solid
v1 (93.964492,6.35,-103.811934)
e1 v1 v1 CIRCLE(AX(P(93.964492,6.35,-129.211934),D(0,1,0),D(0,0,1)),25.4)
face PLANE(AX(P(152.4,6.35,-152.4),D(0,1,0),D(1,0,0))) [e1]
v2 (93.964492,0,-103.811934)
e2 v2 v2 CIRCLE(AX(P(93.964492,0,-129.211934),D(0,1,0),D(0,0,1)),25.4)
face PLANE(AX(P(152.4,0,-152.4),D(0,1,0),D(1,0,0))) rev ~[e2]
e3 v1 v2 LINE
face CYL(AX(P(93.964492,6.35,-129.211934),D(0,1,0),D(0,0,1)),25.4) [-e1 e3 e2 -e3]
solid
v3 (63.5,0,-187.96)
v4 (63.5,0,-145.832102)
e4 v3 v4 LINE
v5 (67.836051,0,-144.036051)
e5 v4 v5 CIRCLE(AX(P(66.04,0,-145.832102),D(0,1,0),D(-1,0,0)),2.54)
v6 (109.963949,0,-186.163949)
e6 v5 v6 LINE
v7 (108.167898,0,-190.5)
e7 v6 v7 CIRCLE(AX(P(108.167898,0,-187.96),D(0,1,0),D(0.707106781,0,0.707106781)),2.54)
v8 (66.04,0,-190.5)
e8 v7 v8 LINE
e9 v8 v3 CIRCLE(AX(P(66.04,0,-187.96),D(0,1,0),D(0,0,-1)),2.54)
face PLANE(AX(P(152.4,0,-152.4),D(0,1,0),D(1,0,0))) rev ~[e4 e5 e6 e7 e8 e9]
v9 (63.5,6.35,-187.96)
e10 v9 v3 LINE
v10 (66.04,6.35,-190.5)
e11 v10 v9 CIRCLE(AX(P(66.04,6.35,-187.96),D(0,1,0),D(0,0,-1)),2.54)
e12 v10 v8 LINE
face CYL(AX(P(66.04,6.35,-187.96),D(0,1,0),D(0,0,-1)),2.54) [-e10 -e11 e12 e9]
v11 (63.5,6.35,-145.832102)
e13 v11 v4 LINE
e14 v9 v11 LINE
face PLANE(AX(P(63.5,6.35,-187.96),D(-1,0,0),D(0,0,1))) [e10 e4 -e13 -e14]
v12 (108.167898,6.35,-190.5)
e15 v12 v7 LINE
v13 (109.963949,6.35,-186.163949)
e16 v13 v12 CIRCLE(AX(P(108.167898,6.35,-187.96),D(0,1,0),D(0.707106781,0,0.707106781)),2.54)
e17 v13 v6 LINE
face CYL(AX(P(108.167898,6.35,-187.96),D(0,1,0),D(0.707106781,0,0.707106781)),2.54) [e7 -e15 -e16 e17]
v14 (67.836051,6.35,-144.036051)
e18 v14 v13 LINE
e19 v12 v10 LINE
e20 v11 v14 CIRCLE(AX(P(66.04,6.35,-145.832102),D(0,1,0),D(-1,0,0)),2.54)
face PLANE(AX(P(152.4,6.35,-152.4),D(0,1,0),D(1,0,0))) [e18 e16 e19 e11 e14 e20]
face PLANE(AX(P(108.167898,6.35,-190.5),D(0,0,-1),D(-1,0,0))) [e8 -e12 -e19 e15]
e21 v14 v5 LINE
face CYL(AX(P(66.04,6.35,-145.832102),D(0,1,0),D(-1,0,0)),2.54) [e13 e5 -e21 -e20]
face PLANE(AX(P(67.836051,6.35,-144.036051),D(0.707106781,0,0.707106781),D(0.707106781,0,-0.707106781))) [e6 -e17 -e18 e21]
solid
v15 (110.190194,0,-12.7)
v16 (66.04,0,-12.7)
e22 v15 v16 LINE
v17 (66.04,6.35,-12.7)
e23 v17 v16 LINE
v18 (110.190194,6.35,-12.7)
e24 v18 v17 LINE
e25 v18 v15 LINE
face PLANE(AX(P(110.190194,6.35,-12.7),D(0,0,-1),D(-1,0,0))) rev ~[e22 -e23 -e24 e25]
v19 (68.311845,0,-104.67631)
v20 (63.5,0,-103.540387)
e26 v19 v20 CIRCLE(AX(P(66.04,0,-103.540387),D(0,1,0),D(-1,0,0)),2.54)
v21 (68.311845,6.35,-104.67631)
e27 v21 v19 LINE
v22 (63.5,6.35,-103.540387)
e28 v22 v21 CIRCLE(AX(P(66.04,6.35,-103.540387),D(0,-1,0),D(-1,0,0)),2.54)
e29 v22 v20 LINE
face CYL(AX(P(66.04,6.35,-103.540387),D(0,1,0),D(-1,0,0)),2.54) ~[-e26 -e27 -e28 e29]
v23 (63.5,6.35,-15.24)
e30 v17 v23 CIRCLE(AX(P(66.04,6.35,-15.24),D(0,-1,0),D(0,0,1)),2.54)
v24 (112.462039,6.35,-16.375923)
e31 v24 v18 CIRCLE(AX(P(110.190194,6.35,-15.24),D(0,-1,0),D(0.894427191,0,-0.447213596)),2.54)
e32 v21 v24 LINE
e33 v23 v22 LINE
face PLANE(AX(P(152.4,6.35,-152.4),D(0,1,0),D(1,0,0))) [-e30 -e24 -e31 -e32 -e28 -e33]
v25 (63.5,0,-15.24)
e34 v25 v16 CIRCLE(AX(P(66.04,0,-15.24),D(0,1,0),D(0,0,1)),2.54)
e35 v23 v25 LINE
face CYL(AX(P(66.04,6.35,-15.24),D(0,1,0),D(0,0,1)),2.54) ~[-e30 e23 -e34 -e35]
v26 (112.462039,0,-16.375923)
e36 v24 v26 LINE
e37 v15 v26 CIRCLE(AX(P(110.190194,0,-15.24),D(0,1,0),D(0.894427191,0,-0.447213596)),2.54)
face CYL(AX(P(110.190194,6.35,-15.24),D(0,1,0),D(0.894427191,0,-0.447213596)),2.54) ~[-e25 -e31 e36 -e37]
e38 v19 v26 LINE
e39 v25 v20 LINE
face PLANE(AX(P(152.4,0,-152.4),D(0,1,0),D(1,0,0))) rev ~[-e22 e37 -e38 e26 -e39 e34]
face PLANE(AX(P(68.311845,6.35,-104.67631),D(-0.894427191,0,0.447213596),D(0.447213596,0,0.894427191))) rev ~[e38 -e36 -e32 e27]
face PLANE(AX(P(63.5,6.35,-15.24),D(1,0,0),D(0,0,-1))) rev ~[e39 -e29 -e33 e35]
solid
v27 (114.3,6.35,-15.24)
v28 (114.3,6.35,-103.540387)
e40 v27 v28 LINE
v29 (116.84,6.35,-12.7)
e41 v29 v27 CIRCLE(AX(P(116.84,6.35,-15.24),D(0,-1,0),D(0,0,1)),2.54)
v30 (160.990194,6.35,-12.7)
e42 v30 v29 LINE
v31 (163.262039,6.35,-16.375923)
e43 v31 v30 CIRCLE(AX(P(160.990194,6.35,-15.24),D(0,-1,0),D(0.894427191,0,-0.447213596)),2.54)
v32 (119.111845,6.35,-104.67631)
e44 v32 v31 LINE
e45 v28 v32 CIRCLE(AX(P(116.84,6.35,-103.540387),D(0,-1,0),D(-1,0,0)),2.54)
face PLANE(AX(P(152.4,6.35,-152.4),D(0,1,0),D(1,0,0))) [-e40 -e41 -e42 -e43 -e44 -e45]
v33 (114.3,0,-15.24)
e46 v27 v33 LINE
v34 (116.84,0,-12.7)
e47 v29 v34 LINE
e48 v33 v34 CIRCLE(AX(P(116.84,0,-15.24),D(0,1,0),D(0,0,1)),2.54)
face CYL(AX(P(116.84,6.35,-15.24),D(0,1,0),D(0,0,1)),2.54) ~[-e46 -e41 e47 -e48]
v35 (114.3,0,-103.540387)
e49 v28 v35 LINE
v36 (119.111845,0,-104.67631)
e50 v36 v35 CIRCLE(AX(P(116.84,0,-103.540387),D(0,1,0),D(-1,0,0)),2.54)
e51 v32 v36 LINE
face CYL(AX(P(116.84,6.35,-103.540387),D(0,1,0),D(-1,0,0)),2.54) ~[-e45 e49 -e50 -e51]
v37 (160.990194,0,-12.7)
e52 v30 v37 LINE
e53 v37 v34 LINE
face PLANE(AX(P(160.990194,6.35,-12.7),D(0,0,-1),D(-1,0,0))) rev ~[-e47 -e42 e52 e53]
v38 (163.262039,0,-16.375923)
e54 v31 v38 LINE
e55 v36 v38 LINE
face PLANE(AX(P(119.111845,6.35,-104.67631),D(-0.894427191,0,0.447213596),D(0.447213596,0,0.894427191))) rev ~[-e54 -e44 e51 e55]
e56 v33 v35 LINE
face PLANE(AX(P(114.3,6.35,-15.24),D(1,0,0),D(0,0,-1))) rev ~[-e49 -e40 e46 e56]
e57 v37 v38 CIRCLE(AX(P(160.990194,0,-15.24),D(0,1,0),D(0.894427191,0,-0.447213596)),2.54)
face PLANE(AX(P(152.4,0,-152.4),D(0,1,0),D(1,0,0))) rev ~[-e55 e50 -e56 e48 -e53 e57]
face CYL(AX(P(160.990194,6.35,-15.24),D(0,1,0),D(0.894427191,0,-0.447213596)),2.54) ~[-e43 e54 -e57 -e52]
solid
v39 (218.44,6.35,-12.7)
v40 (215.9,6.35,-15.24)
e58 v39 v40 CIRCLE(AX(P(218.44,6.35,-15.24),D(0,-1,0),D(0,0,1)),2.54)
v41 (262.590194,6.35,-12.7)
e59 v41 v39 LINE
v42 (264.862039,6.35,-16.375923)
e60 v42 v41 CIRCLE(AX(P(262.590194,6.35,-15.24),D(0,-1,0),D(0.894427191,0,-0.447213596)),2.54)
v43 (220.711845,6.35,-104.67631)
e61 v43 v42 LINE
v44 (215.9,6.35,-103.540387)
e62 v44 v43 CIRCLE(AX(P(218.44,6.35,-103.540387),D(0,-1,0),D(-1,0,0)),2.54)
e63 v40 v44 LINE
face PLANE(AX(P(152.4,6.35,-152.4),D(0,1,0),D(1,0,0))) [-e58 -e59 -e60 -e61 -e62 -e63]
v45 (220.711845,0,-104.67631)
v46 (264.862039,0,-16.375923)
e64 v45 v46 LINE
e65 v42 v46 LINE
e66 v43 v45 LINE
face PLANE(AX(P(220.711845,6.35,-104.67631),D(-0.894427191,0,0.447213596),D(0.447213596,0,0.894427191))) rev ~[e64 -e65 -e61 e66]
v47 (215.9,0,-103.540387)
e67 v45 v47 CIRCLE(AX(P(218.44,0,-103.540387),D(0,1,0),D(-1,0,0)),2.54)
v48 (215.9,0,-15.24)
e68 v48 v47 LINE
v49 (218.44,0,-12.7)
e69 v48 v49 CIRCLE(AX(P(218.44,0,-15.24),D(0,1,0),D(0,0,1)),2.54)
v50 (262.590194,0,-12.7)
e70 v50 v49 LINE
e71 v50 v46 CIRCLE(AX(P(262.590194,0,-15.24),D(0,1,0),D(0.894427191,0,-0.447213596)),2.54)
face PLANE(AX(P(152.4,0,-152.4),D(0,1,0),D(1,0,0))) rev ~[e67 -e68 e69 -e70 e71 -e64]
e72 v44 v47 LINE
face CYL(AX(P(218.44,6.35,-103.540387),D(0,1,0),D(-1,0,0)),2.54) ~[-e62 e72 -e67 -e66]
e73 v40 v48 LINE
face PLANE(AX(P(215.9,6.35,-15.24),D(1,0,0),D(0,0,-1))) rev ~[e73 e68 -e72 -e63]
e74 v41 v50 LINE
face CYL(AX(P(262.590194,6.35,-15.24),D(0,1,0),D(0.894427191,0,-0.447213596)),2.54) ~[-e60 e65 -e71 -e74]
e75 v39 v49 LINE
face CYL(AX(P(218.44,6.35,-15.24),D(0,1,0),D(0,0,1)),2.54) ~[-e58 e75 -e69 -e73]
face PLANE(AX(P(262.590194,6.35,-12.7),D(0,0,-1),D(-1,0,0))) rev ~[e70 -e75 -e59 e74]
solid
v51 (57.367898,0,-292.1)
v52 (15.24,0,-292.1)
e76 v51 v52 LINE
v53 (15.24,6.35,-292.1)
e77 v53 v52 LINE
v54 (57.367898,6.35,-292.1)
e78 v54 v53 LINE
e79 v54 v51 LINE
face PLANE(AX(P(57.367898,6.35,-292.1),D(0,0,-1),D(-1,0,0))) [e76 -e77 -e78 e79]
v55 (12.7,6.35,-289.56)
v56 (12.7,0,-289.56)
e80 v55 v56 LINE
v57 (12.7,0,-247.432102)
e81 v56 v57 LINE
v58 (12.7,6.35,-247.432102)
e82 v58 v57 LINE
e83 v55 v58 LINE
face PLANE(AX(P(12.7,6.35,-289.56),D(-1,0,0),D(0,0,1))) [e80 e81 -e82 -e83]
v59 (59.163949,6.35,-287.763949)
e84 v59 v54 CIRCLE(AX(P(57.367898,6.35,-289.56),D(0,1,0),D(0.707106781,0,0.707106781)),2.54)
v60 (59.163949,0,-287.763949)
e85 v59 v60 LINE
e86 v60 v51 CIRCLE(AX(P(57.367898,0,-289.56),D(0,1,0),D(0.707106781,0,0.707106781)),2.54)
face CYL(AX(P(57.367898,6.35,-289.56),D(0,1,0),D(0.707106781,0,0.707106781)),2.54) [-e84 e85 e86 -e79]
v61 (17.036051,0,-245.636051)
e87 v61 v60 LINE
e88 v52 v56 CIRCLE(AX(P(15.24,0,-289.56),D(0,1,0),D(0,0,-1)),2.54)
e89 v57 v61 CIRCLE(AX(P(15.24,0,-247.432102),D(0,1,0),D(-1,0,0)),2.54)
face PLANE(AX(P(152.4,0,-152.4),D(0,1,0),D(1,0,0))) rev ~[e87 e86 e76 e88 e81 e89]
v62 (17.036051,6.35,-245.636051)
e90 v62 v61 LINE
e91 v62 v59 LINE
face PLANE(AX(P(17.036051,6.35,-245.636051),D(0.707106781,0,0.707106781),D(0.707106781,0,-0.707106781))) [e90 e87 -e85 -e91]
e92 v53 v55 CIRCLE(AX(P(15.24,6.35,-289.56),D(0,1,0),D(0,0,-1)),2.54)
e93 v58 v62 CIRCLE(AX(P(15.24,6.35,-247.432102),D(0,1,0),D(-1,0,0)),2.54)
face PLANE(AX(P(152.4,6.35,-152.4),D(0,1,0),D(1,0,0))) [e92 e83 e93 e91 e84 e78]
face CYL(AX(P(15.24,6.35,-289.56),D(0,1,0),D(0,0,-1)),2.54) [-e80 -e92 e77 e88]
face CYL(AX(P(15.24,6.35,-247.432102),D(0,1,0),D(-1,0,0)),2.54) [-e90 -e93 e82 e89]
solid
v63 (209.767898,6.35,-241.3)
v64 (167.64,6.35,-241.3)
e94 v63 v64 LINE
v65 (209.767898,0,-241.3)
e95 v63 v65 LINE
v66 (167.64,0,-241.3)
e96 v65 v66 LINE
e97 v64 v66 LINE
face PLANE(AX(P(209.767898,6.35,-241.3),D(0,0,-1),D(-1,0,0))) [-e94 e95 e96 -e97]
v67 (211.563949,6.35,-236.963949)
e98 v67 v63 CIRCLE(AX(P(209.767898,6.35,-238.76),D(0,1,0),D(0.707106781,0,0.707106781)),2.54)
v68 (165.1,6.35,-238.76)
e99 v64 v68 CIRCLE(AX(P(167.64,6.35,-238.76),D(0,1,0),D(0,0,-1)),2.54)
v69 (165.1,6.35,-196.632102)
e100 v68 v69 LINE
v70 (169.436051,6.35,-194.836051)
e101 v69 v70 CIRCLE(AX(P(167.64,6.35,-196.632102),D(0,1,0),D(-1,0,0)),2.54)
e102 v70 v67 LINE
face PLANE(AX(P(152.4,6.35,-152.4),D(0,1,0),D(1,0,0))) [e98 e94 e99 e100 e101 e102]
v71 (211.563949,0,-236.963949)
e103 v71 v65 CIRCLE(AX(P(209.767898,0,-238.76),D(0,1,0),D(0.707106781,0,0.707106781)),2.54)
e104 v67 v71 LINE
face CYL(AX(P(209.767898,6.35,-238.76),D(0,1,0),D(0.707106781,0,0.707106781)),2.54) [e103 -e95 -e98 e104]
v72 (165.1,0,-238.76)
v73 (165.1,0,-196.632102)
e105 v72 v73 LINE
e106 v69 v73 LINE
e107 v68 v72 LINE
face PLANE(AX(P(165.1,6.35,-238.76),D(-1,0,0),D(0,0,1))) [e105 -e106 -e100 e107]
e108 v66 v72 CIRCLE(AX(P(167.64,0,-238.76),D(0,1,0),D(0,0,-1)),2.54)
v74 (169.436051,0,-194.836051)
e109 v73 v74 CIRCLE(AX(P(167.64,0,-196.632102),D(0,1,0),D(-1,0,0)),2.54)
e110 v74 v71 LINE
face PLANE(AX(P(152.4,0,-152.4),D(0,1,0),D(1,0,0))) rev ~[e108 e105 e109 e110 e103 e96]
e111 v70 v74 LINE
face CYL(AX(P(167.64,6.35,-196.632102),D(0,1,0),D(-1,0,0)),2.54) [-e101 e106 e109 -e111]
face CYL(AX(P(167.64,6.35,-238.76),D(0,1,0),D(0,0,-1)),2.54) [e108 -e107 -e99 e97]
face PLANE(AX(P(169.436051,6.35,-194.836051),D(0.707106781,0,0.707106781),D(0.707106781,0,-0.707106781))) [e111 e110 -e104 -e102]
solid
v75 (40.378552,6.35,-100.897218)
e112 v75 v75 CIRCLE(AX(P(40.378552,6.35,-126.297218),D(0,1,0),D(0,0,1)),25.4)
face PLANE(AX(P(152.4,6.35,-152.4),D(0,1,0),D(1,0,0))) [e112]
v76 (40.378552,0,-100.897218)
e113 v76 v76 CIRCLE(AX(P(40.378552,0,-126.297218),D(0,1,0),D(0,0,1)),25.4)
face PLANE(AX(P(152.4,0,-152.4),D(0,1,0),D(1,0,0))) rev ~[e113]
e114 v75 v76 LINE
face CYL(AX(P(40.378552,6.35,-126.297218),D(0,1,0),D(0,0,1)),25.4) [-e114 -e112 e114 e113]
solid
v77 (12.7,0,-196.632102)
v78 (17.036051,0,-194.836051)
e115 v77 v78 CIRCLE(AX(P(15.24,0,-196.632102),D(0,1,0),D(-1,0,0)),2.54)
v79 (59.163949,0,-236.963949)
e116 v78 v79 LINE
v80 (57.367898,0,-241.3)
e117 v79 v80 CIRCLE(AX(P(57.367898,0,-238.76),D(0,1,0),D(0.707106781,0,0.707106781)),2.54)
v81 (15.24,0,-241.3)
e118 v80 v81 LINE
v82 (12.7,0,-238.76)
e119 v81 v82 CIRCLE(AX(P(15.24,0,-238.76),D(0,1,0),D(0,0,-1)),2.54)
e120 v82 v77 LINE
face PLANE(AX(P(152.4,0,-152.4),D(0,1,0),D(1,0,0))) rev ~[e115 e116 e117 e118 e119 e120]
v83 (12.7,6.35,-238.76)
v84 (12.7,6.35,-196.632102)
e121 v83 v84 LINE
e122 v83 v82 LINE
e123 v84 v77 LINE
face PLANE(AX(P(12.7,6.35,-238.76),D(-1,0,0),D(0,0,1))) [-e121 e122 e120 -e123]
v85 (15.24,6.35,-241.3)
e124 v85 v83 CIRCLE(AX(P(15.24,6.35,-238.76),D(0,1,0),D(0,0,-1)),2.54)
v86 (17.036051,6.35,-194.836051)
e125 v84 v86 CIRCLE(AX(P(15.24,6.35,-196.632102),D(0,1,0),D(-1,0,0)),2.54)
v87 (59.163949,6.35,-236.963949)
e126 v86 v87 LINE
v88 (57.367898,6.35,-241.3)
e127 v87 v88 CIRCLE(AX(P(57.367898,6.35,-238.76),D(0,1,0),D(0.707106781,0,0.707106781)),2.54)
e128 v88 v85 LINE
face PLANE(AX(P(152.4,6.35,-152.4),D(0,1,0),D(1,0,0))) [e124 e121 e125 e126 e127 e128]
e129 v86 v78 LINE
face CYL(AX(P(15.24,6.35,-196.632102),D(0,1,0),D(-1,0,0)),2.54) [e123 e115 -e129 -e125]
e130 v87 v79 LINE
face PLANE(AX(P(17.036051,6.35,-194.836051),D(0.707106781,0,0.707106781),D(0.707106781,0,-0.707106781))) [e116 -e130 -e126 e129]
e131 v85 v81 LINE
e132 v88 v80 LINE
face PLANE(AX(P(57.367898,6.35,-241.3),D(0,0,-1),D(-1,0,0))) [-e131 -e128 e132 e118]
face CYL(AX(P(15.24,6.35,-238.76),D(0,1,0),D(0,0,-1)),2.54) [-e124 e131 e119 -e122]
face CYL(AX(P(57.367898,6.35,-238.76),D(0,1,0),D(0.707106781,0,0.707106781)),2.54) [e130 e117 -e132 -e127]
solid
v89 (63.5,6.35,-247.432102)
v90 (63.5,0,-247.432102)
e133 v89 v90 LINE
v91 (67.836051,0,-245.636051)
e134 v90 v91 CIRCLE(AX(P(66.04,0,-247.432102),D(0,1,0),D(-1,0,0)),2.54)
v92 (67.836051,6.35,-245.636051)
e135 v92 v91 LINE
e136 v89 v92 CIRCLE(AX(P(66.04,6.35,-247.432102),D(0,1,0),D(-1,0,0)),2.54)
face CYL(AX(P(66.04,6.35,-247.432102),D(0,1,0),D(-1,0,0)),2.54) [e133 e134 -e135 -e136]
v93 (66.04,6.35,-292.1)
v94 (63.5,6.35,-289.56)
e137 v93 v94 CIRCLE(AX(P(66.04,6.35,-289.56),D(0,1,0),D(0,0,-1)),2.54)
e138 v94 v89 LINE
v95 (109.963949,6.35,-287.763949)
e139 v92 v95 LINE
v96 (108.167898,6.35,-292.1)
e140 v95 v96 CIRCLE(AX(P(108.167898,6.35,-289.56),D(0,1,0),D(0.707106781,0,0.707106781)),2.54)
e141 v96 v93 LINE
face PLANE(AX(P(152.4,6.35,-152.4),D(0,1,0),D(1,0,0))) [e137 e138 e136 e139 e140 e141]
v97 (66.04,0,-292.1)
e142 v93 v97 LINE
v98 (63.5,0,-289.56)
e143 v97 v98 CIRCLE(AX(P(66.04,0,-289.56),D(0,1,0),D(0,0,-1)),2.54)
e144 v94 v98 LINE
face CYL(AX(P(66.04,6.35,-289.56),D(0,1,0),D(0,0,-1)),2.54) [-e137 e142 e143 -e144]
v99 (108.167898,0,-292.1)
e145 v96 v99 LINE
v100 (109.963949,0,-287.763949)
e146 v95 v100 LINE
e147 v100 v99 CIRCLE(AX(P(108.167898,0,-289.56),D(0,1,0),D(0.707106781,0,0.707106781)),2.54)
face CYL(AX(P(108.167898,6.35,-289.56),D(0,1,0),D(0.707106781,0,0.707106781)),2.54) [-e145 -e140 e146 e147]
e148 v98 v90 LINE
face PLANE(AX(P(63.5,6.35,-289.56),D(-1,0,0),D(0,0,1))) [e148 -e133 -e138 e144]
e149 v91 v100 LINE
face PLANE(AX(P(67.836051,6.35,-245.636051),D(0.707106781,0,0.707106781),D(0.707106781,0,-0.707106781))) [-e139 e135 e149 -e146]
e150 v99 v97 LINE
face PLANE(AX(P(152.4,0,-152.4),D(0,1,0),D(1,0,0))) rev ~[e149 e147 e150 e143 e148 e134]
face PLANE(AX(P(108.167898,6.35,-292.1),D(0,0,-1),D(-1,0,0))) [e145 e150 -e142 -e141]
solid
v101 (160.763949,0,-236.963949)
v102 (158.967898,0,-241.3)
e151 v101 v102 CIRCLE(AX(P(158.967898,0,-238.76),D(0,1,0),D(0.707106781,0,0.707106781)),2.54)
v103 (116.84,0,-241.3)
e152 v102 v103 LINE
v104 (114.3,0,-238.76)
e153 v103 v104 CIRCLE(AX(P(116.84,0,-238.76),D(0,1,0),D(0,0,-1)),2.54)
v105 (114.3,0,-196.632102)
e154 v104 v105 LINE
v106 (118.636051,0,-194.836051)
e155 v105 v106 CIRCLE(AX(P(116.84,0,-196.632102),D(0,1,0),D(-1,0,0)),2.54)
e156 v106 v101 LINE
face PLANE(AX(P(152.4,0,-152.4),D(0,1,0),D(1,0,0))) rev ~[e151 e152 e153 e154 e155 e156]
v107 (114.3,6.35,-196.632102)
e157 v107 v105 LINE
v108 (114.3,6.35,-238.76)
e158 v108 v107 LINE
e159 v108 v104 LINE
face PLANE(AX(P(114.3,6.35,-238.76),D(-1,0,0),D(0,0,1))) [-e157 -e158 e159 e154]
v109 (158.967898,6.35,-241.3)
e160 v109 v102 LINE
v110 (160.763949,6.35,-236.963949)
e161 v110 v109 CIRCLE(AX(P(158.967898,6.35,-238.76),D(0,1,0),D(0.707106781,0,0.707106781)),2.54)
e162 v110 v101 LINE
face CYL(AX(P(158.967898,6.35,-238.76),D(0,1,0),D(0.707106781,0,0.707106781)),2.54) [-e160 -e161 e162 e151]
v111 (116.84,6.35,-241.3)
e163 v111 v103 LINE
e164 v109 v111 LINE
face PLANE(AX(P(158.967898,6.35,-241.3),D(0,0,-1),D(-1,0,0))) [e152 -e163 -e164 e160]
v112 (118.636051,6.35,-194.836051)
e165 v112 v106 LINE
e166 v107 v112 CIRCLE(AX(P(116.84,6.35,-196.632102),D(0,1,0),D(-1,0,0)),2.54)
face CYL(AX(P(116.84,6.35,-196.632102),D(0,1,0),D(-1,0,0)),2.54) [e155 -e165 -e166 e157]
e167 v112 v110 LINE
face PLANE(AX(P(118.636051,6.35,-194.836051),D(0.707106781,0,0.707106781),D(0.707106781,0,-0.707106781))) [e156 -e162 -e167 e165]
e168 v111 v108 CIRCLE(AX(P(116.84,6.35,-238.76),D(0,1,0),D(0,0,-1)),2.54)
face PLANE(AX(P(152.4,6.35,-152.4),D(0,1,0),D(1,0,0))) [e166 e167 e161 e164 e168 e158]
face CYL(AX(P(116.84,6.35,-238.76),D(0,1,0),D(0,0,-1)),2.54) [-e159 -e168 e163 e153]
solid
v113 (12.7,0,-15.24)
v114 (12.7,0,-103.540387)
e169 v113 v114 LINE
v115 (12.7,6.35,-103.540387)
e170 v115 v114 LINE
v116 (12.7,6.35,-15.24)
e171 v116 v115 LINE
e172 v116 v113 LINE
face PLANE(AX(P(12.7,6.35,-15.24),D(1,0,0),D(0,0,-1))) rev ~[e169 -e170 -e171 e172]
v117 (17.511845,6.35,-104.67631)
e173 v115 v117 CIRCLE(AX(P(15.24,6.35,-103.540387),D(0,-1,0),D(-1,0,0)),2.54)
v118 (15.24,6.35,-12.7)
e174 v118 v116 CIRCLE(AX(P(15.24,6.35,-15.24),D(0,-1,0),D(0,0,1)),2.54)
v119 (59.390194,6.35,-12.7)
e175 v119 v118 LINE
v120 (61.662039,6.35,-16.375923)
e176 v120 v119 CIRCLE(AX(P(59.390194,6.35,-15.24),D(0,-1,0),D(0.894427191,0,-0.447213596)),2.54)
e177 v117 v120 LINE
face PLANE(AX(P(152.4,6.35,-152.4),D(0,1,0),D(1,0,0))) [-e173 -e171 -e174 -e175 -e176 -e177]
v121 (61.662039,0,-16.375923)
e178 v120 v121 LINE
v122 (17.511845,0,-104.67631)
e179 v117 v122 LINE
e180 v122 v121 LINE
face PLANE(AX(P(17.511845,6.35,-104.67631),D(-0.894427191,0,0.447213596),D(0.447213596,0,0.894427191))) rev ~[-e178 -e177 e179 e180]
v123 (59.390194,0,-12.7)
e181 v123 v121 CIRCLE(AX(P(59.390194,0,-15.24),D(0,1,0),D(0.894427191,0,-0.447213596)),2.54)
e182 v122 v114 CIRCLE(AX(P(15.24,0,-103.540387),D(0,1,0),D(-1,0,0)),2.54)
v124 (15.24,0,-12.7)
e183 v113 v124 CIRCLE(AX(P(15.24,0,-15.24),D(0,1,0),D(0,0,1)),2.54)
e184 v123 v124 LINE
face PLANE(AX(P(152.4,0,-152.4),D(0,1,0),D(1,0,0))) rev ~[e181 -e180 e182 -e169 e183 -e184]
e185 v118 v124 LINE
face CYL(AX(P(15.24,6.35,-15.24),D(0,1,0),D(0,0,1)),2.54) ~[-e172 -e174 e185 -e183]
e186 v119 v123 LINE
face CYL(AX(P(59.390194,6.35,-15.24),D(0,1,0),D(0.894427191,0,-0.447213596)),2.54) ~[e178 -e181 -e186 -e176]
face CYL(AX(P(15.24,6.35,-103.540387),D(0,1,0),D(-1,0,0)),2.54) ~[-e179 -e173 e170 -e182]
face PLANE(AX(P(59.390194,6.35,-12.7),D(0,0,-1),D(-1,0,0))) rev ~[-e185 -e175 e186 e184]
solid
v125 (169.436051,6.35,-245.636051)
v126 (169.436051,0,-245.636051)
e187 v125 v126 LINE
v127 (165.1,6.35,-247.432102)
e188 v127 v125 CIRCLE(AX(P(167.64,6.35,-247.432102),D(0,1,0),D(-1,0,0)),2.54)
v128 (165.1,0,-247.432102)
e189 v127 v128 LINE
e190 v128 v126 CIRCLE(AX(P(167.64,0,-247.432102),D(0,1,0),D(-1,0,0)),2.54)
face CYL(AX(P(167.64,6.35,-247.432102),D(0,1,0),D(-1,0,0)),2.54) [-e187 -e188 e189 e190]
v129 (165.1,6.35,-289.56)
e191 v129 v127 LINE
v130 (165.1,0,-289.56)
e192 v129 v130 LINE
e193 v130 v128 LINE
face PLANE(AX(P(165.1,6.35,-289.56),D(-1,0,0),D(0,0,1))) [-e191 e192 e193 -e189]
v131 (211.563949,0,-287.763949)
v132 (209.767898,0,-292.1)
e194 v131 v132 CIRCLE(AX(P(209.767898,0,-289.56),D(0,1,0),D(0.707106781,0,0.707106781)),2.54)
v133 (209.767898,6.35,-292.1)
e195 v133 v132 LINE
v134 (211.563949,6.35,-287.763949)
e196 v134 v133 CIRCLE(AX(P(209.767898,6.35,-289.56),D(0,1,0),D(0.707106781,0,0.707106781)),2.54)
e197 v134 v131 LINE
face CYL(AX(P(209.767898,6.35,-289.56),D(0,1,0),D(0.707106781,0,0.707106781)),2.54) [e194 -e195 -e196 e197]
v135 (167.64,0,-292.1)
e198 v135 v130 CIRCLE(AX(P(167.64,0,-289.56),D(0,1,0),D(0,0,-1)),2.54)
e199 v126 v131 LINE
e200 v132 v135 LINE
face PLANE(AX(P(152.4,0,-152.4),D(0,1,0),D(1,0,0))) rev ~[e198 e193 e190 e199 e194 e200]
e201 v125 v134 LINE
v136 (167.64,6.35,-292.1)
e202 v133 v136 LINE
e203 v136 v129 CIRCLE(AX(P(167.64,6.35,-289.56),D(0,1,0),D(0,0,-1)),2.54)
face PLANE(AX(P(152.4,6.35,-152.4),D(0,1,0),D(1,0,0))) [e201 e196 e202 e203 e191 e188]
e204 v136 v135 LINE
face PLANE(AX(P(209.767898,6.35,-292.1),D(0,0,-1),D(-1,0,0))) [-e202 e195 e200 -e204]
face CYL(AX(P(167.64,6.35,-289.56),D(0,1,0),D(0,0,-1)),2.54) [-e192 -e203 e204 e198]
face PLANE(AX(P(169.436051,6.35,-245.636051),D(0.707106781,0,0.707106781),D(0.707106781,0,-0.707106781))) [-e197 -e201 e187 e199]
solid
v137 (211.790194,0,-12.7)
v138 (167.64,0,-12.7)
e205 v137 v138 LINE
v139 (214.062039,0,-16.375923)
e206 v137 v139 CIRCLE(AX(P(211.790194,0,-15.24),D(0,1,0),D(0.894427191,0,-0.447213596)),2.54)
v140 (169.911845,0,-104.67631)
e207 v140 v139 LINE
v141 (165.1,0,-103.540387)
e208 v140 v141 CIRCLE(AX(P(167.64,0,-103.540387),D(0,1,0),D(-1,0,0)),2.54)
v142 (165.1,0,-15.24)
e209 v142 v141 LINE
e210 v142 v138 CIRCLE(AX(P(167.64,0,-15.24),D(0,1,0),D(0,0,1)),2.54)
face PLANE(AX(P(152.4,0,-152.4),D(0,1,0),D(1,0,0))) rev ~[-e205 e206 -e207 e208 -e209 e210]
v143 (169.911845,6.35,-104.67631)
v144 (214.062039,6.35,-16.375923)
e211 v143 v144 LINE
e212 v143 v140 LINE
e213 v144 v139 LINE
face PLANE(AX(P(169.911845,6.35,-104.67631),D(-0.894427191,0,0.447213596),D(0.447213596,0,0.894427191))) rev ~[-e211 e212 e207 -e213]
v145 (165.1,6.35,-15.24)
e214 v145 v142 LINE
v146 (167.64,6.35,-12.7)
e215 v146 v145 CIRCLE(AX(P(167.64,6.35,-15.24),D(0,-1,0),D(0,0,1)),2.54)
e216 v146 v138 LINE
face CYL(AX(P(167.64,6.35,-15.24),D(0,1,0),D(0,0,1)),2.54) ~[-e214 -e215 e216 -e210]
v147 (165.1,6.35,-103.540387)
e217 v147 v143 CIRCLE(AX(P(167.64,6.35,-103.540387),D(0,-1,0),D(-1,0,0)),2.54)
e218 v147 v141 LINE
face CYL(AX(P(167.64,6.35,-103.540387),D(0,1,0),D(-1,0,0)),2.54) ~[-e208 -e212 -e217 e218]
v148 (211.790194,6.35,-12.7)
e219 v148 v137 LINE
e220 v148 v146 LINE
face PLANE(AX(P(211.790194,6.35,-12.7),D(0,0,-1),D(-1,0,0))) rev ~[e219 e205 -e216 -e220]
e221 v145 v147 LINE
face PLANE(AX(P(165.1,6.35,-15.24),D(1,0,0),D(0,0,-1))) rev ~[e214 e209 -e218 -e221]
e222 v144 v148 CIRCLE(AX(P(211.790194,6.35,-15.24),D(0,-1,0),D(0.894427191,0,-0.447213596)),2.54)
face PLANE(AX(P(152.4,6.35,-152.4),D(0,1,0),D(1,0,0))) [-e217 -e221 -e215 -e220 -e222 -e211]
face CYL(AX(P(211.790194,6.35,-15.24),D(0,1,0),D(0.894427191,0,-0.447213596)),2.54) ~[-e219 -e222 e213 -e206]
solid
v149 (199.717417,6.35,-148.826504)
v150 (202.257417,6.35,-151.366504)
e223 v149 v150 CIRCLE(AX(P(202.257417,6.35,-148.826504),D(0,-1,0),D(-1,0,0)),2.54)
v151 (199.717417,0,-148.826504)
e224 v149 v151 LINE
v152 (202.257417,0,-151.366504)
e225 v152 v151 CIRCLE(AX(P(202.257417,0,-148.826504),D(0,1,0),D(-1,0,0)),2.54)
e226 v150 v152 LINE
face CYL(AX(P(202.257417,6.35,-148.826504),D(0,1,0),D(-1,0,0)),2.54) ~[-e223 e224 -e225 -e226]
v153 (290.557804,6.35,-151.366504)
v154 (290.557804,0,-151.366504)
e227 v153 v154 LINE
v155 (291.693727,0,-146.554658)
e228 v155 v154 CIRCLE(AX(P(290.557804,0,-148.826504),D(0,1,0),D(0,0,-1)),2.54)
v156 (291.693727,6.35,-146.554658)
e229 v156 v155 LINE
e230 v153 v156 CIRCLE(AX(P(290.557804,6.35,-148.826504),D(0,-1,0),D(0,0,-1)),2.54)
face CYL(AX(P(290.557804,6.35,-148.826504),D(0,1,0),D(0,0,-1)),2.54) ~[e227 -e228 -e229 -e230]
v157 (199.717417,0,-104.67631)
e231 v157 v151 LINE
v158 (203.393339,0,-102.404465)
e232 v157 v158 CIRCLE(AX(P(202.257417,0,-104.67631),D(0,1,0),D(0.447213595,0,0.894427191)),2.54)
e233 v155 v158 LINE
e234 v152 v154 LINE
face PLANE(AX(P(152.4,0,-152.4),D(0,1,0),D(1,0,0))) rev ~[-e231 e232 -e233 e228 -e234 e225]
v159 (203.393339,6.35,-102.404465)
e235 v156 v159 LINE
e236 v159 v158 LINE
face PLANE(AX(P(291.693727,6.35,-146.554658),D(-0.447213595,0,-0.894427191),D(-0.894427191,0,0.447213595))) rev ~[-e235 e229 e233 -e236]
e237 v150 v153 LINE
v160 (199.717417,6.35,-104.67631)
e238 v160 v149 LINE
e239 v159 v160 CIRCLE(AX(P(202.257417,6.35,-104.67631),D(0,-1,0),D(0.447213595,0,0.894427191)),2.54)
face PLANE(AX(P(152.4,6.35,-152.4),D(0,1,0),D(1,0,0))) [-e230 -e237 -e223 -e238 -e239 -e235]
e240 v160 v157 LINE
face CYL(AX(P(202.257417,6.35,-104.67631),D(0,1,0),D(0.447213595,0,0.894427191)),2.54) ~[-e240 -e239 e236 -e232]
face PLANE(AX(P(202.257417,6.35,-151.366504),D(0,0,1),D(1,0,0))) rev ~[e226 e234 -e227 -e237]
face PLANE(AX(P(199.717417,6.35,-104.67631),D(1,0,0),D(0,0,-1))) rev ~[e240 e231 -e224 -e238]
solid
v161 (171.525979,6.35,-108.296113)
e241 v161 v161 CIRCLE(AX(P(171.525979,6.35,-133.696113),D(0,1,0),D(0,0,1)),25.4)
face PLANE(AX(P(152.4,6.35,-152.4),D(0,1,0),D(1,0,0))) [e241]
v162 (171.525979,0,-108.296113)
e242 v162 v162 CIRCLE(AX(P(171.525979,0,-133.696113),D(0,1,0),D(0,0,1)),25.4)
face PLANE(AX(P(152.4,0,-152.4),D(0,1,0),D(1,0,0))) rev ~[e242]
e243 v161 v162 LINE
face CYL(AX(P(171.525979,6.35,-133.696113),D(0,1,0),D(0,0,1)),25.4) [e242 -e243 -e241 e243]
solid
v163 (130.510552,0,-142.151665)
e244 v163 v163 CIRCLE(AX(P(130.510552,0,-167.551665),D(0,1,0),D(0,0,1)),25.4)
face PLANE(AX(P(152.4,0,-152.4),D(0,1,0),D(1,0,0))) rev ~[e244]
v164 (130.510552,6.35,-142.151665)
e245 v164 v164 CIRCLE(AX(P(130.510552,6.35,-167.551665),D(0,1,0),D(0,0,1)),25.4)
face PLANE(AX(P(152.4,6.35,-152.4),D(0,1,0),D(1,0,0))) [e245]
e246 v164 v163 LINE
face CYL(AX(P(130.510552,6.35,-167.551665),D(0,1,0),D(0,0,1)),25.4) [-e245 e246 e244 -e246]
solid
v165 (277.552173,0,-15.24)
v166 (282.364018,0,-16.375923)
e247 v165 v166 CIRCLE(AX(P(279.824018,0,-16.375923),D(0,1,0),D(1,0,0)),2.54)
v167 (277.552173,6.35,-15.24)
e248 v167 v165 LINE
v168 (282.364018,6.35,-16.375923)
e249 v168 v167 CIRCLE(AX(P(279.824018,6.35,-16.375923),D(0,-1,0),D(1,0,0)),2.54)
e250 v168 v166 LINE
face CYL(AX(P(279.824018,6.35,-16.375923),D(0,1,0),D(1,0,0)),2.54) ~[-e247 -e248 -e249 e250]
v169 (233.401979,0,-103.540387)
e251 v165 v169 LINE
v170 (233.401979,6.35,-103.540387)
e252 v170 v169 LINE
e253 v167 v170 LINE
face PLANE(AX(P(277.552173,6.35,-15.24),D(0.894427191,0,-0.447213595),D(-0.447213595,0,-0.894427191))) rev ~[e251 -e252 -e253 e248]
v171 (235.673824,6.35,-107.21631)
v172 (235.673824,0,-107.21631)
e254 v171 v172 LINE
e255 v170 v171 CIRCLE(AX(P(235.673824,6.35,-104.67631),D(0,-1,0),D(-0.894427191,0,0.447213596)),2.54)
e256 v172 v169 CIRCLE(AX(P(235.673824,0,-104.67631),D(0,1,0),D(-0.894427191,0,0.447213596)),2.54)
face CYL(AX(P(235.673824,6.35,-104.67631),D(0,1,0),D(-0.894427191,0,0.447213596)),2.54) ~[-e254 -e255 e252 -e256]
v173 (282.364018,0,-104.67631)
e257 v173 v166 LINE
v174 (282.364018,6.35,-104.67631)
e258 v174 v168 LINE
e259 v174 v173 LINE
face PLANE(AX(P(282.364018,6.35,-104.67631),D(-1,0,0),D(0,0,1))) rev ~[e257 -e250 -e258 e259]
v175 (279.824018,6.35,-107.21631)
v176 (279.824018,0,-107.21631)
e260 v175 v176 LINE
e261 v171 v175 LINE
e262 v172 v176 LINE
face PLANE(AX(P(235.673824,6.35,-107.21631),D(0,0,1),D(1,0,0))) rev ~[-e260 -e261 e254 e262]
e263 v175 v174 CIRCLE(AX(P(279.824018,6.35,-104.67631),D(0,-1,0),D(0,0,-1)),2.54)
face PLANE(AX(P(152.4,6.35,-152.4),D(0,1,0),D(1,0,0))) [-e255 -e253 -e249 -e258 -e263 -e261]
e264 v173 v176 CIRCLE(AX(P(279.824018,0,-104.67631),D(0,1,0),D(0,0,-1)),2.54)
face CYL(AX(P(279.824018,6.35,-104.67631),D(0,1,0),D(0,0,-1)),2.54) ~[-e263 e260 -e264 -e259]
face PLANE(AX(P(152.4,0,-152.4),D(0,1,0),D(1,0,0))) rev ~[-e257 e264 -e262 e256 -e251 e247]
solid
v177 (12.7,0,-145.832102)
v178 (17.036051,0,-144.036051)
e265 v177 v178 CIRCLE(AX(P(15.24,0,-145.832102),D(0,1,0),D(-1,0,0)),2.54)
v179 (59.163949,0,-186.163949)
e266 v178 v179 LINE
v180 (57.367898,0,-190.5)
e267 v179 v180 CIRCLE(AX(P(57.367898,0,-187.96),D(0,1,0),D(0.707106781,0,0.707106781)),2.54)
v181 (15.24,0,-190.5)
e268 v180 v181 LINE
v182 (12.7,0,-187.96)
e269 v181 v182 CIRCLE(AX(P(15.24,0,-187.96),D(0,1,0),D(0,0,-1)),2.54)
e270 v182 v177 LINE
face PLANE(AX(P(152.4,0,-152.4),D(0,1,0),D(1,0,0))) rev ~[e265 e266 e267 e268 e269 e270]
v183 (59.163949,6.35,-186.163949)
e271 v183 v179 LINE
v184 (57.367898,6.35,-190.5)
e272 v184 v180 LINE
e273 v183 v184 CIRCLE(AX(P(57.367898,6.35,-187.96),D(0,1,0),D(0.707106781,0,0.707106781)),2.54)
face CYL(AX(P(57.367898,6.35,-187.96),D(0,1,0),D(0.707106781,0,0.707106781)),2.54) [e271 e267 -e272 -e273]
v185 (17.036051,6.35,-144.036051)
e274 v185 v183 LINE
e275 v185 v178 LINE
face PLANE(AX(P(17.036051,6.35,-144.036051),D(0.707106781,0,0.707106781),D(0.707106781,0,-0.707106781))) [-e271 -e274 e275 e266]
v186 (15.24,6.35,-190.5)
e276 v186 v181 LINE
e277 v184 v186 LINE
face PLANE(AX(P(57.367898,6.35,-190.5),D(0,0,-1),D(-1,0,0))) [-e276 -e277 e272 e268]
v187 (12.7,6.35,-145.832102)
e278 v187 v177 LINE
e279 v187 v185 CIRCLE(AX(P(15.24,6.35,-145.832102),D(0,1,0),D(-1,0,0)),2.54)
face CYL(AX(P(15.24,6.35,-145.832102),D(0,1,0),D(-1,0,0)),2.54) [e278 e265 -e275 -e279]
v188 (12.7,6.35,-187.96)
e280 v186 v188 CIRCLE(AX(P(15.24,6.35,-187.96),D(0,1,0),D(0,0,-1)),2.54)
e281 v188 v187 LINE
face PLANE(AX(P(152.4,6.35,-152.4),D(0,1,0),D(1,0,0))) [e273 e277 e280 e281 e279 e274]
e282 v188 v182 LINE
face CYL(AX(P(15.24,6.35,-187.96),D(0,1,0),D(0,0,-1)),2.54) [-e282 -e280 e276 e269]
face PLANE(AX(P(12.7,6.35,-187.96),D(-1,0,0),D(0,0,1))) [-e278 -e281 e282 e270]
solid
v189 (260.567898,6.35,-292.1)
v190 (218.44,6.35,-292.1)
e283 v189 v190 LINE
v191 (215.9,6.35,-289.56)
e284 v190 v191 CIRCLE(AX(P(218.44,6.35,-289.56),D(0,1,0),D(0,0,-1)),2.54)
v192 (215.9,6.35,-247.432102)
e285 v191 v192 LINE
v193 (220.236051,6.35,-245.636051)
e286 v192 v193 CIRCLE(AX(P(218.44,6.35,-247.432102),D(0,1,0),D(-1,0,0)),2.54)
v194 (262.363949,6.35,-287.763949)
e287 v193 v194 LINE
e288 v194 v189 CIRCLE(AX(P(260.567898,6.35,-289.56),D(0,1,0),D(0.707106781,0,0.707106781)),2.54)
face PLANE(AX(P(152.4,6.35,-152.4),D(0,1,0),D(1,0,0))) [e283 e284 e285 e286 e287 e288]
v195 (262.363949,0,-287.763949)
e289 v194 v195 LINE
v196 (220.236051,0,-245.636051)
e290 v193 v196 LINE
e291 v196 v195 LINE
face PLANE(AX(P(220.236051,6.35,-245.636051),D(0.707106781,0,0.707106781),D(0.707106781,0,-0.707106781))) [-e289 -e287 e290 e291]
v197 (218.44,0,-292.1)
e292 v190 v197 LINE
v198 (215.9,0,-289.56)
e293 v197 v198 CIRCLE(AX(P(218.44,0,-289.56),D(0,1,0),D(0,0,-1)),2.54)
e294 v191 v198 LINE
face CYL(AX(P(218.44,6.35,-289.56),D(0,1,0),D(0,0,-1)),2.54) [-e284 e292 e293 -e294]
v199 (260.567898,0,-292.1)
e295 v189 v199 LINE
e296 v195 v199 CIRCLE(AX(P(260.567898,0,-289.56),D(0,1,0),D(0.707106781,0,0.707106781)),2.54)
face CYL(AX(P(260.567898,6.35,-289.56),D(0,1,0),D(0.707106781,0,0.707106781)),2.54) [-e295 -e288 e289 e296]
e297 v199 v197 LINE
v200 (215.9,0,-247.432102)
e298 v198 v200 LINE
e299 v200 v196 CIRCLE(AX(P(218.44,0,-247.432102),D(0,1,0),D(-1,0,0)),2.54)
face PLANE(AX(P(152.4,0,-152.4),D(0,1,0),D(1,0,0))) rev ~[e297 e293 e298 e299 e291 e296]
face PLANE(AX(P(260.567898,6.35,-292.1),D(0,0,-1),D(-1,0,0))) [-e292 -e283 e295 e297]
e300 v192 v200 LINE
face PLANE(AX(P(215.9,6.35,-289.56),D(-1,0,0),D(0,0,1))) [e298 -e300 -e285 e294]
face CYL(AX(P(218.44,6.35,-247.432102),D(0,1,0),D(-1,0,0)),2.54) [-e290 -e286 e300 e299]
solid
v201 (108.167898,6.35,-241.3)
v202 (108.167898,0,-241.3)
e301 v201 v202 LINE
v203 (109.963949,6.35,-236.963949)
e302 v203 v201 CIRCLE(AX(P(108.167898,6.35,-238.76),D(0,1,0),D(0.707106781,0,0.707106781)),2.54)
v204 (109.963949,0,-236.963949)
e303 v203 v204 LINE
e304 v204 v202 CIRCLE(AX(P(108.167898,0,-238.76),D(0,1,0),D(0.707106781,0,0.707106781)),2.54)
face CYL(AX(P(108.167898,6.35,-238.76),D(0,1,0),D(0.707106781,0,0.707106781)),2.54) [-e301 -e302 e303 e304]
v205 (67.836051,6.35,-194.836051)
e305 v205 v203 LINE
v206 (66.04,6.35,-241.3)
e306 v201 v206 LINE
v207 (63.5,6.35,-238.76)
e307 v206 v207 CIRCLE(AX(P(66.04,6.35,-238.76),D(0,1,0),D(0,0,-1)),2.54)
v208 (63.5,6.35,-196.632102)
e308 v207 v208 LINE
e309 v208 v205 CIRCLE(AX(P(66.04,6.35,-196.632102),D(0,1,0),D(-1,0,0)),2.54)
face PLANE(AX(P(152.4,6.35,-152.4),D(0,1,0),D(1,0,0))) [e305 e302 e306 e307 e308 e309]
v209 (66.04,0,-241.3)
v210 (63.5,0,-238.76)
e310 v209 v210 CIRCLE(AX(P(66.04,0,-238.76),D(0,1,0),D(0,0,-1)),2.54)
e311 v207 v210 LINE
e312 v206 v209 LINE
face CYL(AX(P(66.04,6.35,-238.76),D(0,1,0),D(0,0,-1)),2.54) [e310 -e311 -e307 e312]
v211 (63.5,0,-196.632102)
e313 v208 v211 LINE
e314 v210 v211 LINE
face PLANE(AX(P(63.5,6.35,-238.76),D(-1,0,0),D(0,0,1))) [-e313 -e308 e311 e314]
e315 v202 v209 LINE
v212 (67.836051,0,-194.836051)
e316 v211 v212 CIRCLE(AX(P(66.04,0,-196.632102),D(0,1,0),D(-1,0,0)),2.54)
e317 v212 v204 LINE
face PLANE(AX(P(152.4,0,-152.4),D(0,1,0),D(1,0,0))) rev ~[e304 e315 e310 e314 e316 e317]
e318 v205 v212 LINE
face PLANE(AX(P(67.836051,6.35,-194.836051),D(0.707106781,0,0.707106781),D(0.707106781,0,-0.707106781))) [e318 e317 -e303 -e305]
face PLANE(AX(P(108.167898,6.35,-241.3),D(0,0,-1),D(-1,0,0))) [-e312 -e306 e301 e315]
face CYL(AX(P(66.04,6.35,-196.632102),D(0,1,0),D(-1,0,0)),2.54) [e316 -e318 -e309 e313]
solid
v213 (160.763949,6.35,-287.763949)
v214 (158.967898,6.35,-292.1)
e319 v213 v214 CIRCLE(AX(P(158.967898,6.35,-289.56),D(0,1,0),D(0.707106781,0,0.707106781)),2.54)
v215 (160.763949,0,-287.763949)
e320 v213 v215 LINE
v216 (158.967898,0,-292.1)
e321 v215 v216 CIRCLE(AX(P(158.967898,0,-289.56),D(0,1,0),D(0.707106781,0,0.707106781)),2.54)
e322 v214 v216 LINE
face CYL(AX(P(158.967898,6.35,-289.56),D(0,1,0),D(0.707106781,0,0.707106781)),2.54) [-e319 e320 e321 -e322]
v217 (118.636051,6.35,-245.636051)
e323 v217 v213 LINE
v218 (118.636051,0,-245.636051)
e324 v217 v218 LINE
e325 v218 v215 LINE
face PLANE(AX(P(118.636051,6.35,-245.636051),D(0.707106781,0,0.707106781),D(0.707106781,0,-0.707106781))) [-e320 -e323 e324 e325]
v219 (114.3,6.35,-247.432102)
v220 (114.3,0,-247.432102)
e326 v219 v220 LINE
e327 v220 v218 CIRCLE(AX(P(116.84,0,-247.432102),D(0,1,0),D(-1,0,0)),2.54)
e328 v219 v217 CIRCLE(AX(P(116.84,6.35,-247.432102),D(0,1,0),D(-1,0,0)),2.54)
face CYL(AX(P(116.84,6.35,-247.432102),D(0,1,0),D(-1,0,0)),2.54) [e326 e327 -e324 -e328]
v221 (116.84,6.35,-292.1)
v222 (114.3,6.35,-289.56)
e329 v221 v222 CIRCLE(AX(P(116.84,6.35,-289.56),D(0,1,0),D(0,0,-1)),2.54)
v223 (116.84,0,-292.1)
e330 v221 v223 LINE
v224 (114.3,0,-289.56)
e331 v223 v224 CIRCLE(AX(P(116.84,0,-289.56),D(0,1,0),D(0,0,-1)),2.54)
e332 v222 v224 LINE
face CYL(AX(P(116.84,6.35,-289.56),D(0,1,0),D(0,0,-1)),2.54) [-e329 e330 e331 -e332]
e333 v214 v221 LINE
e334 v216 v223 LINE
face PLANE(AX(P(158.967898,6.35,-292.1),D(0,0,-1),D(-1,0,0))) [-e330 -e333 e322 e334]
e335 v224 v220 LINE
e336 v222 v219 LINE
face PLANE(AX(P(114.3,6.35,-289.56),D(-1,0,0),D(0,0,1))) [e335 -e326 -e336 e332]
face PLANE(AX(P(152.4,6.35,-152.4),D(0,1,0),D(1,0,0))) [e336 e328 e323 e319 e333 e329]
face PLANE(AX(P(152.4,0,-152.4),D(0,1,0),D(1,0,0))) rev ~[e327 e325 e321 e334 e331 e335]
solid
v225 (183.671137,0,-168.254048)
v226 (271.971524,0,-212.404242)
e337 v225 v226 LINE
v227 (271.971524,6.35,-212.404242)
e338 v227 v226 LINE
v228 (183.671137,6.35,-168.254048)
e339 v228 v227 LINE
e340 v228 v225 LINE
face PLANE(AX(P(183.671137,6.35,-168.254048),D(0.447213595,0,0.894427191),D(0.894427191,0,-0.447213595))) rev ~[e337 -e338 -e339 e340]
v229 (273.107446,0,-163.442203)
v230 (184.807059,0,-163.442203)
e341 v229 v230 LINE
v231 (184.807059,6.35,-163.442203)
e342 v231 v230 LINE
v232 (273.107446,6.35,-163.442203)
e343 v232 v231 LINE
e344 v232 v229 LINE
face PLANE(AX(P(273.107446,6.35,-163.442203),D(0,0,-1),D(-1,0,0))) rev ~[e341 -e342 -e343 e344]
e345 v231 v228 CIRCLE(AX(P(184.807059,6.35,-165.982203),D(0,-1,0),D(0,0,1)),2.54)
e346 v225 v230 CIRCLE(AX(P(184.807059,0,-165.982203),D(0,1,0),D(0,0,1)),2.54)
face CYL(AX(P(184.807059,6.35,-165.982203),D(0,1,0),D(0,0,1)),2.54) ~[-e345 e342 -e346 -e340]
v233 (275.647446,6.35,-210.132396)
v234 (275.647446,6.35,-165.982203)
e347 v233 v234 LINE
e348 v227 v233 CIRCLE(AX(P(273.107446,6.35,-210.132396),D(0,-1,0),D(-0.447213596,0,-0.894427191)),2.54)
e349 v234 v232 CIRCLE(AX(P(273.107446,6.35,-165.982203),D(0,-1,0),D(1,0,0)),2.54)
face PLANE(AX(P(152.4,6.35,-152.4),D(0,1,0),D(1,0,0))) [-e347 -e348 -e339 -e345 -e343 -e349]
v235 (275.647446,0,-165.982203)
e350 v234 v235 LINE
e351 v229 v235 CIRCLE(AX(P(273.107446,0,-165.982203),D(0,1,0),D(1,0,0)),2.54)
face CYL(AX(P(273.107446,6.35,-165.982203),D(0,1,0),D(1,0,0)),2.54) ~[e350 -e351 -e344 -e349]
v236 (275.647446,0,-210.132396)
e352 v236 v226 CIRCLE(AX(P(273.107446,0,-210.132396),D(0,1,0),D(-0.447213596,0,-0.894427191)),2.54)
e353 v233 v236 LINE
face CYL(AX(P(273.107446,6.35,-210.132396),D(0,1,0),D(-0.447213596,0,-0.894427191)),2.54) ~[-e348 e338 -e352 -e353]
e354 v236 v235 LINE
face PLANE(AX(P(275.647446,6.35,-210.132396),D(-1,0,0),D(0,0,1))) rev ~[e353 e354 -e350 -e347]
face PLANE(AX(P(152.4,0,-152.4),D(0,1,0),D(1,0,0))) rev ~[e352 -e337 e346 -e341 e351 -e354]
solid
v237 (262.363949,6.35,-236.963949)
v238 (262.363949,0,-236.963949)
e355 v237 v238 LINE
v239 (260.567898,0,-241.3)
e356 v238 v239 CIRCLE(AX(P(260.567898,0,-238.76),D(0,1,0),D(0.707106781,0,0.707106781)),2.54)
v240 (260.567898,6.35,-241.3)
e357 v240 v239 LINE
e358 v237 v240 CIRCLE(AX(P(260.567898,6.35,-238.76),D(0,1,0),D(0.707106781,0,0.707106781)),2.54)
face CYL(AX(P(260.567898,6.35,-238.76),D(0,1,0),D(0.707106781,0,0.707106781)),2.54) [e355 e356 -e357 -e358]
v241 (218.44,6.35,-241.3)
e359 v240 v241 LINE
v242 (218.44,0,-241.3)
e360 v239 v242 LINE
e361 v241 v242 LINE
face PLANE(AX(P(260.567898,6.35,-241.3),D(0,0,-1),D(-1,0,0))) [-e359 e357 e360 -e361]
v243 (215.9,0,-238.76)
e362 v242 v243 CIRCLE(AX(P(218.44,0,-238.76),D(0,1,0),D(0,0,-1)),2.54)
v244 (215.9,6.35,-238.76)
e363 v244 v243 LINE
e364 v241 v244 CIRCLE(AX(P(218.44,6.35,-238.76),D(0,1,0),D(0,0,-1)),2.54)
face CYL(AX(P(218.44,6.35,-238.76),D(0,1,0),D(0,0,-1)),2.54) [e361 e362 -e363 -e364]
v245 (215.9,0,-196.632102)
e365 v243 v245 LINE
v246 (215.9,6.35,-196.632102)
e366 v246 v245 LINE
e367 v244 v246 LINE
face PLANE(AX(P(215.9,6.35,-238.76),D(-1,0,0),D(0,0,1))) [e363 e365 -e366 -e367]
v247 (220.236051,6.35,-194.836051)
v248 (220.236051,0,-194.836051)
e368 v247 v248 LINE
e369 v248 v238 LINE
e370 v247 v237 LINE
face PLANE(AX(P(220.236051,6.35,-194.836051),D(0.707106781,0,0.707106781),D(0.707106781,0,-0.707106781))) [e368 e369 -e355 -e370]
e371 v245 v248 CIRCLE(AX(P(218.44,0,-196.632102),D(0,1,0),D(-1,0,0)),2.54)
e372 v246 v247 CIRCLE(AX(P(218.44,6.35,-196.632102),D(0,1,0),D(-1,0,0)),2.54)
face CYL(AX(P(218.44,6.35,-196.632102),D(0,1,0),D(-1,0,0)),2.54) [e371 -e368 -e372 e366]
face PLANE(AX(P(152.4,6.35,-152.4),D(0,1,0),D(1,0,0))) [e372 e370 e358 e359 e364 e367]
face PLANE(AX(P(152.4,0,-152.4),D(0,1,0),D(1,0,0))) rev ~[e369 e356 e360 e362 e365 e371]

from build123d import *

# Parameters (mm, degrees)
SKETCH1_W           = 304.8
SKETCH1_H           = 304.8
BOSS_EXTRUDE1_DEPTH = 6.35
SKETCH2_OUTSIDE_W   = 393.02
SKETCH2_OUTSIDE_H   = 393.02
SKETCH2_OUTSIDE_R   = 25.4
CUT_EXTRUDE2_DEPTH  = 432.099063441


with BuildPart() as part:
    # Sketch1 → Boss-Extrude1 (new body)
    with BuildSketch(Plane(origin=(0, 0, 0), x_dir=(1, 0, 0), z_dir=(0, 1, 0))):
        with Locations((152.4, 152.4)):
            Rectangle(SKETCH1_W, SKETCH1_H)
    extrude(amount=BOSS_EXTRUDE1_DEPTH)

    # Sketch2 outside → Cut-Extrude2 (cut, through all)
    with BuildSketch(Plane(origin=(0, 6.35, 0), x_dir=(1, 0, 0), z_dir=(0, 1, 0))):
        with Locations((152.4, 152.4)):
            Rectangle(SKETCH2_OUTSIDE_W, SKETCH2_OUTSIDE_H)
        with Locations(Location((40.378551944, 126.297217899, 0), (0, 0, 270))):
            Circle(SKETCH2_OUTSIDE_R, mode=Mode.SUBTRACT)
        with Locations(Location((93.964492013, 129.211934304, 0), (0, 0, 270))):
            Circle(SKETCH2_OUTSIDE_R, mode=Mode.SUBTRACT)
        with Locations(Location((130.510551558, 167.551665483, 0), (0, 0, 270))):
            Circle(SKETCH2_OUTSIDE_R, mode=Mode.SUBTRACT)
        with Locations(Location((171.52597858, 133.696113389, 0), (0, 0, 270))):
            Circle(SKETCH2_OUTSIDE_R, mode=Mode.SUBTRACT)
        with BuildLine():
            Line((12.7, 289.56), (12.7, 247.432102448))
            ThreePointArc((12.7, 247.432102448), (14.267984082, 245.085448436), (17.036051224, 245.636051224))
            Line((17.036051224, 245.636051224), (59.163948776, 287.763948776))
            ThreePointArc((59.163948776, 287.763948776), (59.714551564, 290.532015918), (57.367897552, 292.1))
            Line((57.367897552, 292.1), (15.24, 292.1))
            ThreePointArc((15.24, 292.1), (13.443948776, 291.356051224), (12.7, 289.56))
        make_face(mode=Mode.SUBTRACT)
        with BuildLine():
            Line((67.836051224, 245.636051224), (109.963948776, 287.763948776))
            ThreePointArc((109.963948776, 287.763948776), (110.514551564, 290.532015918), (108.167897552, 292.1))
            Line((108.167897552, 292.1), (66.04, 292.1))
            ThreePointArc((66.04, 292.1), (64.243948776, 291.356051224), (63.5, 289.56))
            Line((63.5, 289.56), (63.5, 247.432102448))
            ThreePointArc((63.5, 247.432102448), (65.067984082, 245.085448436), (67.836051224, 245.636051224))
        make_face(mode=Mode.SUBTRACT)
        with BuildLine():
            Line((118.636051224, 245.636051224), (160.763948776, 287.763948776))
            ThreePointArc((160.763948776, 287.763948776), (161.314551564, 290.532015918), (158.967897552, 292.1))
            Line((158.967897552, 292.1), (116.84, 292.1))
            ThreePointArc((116.84, 292.1), (115.043948776, 291.356051224), (114.3, 289.56))
            Line((114.3, 289.56), (114.3, 247.432102448))
            ThreePointArc((114.3, 247.432102448), (115.867984082, 245.085448436), (118.636051224, 245.636051224))
        make_face(mode=Mode.SUBTRACT)
        with BuildLine():
            Line((169.436051224, 245.636051224), (211.563948776, 287.763948776))
            ThreePointArc((211.563948776, 287.763948776), (212.114551564, 290.532015918), (209.767897552, 292.1))
            Line((209.767897552, 292.1), (167.64, 292.1))
            ThreePointArc((167.64, 292.1), (165.843948776, 291.356051224), (165.1, 289.56))
            Line((165.1, 289.56), (165.1, 247.432102448))
            ThreePointArc((165.1, 247.432102448), (166.667984082, 245.085448436), (169.436051224, 245.636051224))
        make_face(mode=Mode.SUBTRACT)
        with BuildLine():
            Line((220.236051224, 245.636051224), (262.363948776, 287.763948776))
            ThreePointArc((262.363948776, 287.763948776), (262.914551564, 290.532015918), (260.567897552, 292.1))
            Line((260.567897552, 292.1), (218.44, 292.1))
            ThreePointArc((218.44, 292.1), (216.643948776, 291.356051224), (215.9, 289.56))
            Line((215.9, 289.56), (215.9, 247.432102448))
            ThreePointArc((215.9, 247.432102448), (217.467984082, 245.085448436), (220.236051224, 245.636051224))
        make_face(mode=Mode.SUBTRACT)
        with BuildLine():
            Line((67.836051224, 194.836051224), (109.963948776, 236.963948776))
            ThreePointArc((109.963948776, 236.963948776), (110.514551564, 239.732015918), (108.167897552, 241.3))
            Line((108.167897552, 241.3), (66.04, 241.3))
            ThreePointArc((66.04, 241.3), (64.243948776, 240.556051224), (63.5, 238.76))
            Line((63.5, 238.76), (63.5, 196.632102448))
            ThreePointArc((63.5, 196.632102448), (65.067984082, 194.285448436), (67.836051224, 194.836051224))
        make_face(mode=Mode.SUBTRACT)
        with BuildLine():
            Line((118.636051224, 194.836051224), (160.763948776, 236.963948776))
            ThreePointArc((160.763948776, 236.963948776), (161.314551564, 239.732015918), (158.967897552, 241.3))
            Line((158.967897552, 241.3), (116.84, 241.3))
            ThreePointArc((116.84, 241.3), (115.043948776, 240.556051224), (114.3, 238.76))
            Line((114.3, 238.76), (114.3, 196.632102448))
            ThreePointArc((114.3, 196.632102448), (115.867984082, 194.285448436), (118.636051224, 194.836051224))
        make_face(mode=Mode.SUBTRACT)
        with BuildLine():
            Line((169.436051224, 194.836051224), (211.563948776, 236.963948776))
            ThreePointArc((211.563948776, 236.963948776), (212.114551564, 239.732015918), (209.767897552, 241.3))
            Line((209.767897552, 241.3), (167.64, 241.3))
            ThreePointArc((167.64, 241.3), (165.843948776, 240.556051224), (165.1, 238.76))
            Line((165.1, 238.76), (165.1, 196.632102448))
            ThreePointArc((165.1, 196.632102448), (166.667984082, 194.285448436), (169.436051224, 194.836051224))
        make_face(mode=Mode.SUBTRACT)
        with BuildLine():
            Line((220.236051224, 194.836051224), (262.363948776, 236.963948776))
            ThreePointArc((262.363948776, 236.963948776), (262.914551564, 239.732015918), (260.567897552, 241.3))
            Line((260.567897552, 241.3), (218.44, 241.3))
            ThreePointArc((218.44, 241.3), (216.643948776, 240.556051224), (215.9, 238.76))
            Line((215.9, 238.76), (215.9, 196.632102448))
            ThreePointArc((215.9, 196.632102448), (217.467984082, 194.285448436), (220.236051224, 194.836051224))
        make_face(mode=Mode.SUBTRACT)
        with BuildLine():
            Line((17.036051224, 194.836051224), (59.163948776, 236.963948776))
            ThreePointArc((59.163948776, 236.963948776), (59.714551564, 239.732015918), (57.367897552, 241.3))
            Line((57.367897552, 241.3), (15.24, 241.3))
            ThreePointArc((15.24, 241.3), (13.443948776, 240.556051224), (12.7, 238.76))
            Line((12.7, 238.76), (12.7, 196.632102448))
            ThreePointArc((12.7, 196.632102448), (14.267984082, 194.285448436), (17.036051224, 194.836051224))
        make_face(mode=Mode.SUBTRACT)
        with BuildLine():
            Line((17.036051224, 144.036051224), (59.163948776, 186.163948776))
            ThreePointArc((59.163948776, 186.163948776), (59.714551564, 188.932015918), (57.367897552, 190.5))
            Line((57.367897552, 190.5), (15.24, 190.5))
            ThreePointArc((15.24, 190.5), (13.443948776, 189.756051224), (12.7, 187.96))
            Line((12.7, 187.96), (12.7, 145.832102448))
            ThreePointArc((12.7, 145.832102448), (14.267984082, 143.485448436), (17.036051224, 144.036051224))
        make_face(mode=Mode.SUBTRACT)
        with BuildLine():
            Line((67.836051224, 144.036051224), (109.963948776, 186.163948776))
            ThreePointArc((109.963948776, 186.163948776), (110.514551564, 188.932015918), (108.167897552, 190.5))
            Line((108.167897552, 190.5), (66.04, 190.5))
            ThreePointArc((66.04, 190.5), (64.243948776, 189.756051224), (63.5, 187.96))
            Line((63.5, 187.96), (63.5, 145.832102448))
            ThreePointArc((63.5, 145.832102448), (65.067984082, 143.485448436), (67.836051224, 144.036051224))
        make_face(mode=Mode.SUBTRACT)
        with BuildLine():
            Line((12.7, 15.24), (12.7, 103.540387337))
            ThreePointArc((12.7, 103.540387337), (14.656427582, 106.01243977), (17.511845065, 104.67630987))
            Line((17.511845065, 104.67630987), (61.662038734, 16.375922533))
            ThreePointArc((61.662038734, 16.375922533), (61.550846722, 13.904642975), (59.390193669, 12.7))
            Line((59.390193669, 12.7), (15.24, 12.7))
            ThreePointArc((15.24, 12.7), (13.443948776, 13.443948776), (12.7, 15.24))
        make_face(mode=Mode.SUBTRACT)
        with BuildLine():
            Line((68.311845065, 104.67630987), (112.462038734, 16.375922533))
            ThreePointArc((112.462038734, 16.375922533), (112.350846722, 13.904642975), (110.190193669, 12.7))
            Line((110.190193669, 12.7), (66.04, 12.7))
            ThreePointArc((66.04, 12.7), (64.243948776, 13.443948776), (63.5, 15.24))
            Line((63.5, 15.24), (63.5, 103.540387337))
            ThreePointArc((63.5, 103.540387337), (65.456427582, 106.01243977), (68.311845065, 104.67630987))
        make_face(mode=Mode.SUBTRACT)
        with BuildLine():
            Line((119.111845065, 104.67630987), (163.262038734, 16.375922533))
            ThreePointArc((163.262038734, 16.375922533), (163.150846722, 13.904642975), (160.990193669, 12.7))
            Line((160.990193669, 12.7), (116.84, 12.7))
            ThreePointArc((116.84, 12.7), (115.043948776, 13.443948776), (114.3, 15.24))
            Line((114.3, 15.24), (114.3, 103.540387337))
            ThreePointArc((114.3, 103.540387337), (116.256427582, 106.01243977), (119.111845065, 104.67630987))
        make_face(mode=Mode.SUBTRACT)
        with BuildLine():
            Line((169.911845065, 104.67630987), (214.062038734, 16.375922533))
            ThreePointArc((214.062038734, 16.375922533), (213.950846722, 13.904642975), (211.790193669, 12.7))
            Line((211.790193669, 12.7), (167.64, 12.7))
            ThreePointArc((167.64, 12.7), (165.843948776, 13.443948776), (165.1, 15.24))
            Line((165.1, 15.24), (165.1, 103.540387337))
            ThreePointArc((165.1, 103.540387337), (167.056427582, 106.01243977), (169.911845065, 104.67630987))
        make_face(mode=Mode.SUBTRACT)
        with BuildLine():
            Line((220.711845065, 104.67630987), (264.862038734, 16.375922533))
            ThreePointArc((264.862038734, 16.375922533), (264.750846722, 13.904642975), (262.590193669, 12.7))
            Line((262.590193669, 12.7), (218.44, 12.7))
            ThreePointArc((218.44, 12.7), (216.643948776, 13.443948776), (215.9, 15.24))
            Line((215.9, 15.24), (215.9, 103.540387337))
            ThreePointArc((215.9, 103.540387337), (217.856427582, 106.01243977), (220.711845065, 104.67630987))
        make_face(mode=Mode.SUBTRACT)
        with BuildLine():
            Line((277.552172751, 15.24), (233.401979083, 103.540387337))
            ThreePointArc((233.401979083, 103.540387337), (233.513171095, 106.011666895), (235.673824148, 107.21630987))
            Line((235.673824148, 107.21630987), (279.824017817, 107.21630987))
            ThreePointArc((279.824017817, 107.21630987), (281.620069041, 106.472361094), (282.364017817, 104.67630987))
            Line((282.364017817, 104.67630987), (282.364017817, 16.375922533))
            ThreePointArc((282.364017817, 16.375922533), (280.407590235, 13.903870099), (277.552172751, 15.24))
        make_face(mode=Mode.SUBTRACT)
        with BuildLine():
            Line((291.693726792, 146.554658473), (203.393339455, 102.404464805))
            ThreePointArc((203.393339455, 102.404464805), (200.922059898, 102.515656817), (199.717416922, 104.67630987))
            Line((199.717416922, 104.67630987), (199.717416922, 148.826503538))
            ThreePointArc((199.717416922, 148.826503538), (200.461365698, 150.622554763), (202.257416922, 151.366503538))
            Line((202.257416922, 151.366503538), (290.55780426, 151.366503538))
            ThreePointArc((290.55780426, 151.366503538), (293.029856693, 149.410075956), (291.693726792, 146.554658473))
        make_face(mode=Mode.SUBTRACT)
        with BuildLine():
            Line((183.6711366, 168.254047869), (271.971523937, 212.404241537))
            ThreePointArc((271.971523937, 212.404241537), (274.442803495, 212.293049525), (275.64744647, 210.132396472))
            Line((275.64744647, 210.132396472), (275.64744647, 165.982202803))
            ThreePointArc((275.64744647, 165.982202803), (274.903497694, 164.186151579), (273.10744647, 163.442202803))
            Line((273.10744647, 163.442202803), (184.807059133, 163.442202803))
            ThreePointArc((184.807059133, 163.442202803), (182.335006699, 165.398630385), (183.6711366, 168.254047869))
        make_face(mode=Mode.SUBTRACT)
    extrude(amount=-CUT_EXTRUDE2_DEPTH, mode=Mode.SUBTRACT)


solid = part.part
